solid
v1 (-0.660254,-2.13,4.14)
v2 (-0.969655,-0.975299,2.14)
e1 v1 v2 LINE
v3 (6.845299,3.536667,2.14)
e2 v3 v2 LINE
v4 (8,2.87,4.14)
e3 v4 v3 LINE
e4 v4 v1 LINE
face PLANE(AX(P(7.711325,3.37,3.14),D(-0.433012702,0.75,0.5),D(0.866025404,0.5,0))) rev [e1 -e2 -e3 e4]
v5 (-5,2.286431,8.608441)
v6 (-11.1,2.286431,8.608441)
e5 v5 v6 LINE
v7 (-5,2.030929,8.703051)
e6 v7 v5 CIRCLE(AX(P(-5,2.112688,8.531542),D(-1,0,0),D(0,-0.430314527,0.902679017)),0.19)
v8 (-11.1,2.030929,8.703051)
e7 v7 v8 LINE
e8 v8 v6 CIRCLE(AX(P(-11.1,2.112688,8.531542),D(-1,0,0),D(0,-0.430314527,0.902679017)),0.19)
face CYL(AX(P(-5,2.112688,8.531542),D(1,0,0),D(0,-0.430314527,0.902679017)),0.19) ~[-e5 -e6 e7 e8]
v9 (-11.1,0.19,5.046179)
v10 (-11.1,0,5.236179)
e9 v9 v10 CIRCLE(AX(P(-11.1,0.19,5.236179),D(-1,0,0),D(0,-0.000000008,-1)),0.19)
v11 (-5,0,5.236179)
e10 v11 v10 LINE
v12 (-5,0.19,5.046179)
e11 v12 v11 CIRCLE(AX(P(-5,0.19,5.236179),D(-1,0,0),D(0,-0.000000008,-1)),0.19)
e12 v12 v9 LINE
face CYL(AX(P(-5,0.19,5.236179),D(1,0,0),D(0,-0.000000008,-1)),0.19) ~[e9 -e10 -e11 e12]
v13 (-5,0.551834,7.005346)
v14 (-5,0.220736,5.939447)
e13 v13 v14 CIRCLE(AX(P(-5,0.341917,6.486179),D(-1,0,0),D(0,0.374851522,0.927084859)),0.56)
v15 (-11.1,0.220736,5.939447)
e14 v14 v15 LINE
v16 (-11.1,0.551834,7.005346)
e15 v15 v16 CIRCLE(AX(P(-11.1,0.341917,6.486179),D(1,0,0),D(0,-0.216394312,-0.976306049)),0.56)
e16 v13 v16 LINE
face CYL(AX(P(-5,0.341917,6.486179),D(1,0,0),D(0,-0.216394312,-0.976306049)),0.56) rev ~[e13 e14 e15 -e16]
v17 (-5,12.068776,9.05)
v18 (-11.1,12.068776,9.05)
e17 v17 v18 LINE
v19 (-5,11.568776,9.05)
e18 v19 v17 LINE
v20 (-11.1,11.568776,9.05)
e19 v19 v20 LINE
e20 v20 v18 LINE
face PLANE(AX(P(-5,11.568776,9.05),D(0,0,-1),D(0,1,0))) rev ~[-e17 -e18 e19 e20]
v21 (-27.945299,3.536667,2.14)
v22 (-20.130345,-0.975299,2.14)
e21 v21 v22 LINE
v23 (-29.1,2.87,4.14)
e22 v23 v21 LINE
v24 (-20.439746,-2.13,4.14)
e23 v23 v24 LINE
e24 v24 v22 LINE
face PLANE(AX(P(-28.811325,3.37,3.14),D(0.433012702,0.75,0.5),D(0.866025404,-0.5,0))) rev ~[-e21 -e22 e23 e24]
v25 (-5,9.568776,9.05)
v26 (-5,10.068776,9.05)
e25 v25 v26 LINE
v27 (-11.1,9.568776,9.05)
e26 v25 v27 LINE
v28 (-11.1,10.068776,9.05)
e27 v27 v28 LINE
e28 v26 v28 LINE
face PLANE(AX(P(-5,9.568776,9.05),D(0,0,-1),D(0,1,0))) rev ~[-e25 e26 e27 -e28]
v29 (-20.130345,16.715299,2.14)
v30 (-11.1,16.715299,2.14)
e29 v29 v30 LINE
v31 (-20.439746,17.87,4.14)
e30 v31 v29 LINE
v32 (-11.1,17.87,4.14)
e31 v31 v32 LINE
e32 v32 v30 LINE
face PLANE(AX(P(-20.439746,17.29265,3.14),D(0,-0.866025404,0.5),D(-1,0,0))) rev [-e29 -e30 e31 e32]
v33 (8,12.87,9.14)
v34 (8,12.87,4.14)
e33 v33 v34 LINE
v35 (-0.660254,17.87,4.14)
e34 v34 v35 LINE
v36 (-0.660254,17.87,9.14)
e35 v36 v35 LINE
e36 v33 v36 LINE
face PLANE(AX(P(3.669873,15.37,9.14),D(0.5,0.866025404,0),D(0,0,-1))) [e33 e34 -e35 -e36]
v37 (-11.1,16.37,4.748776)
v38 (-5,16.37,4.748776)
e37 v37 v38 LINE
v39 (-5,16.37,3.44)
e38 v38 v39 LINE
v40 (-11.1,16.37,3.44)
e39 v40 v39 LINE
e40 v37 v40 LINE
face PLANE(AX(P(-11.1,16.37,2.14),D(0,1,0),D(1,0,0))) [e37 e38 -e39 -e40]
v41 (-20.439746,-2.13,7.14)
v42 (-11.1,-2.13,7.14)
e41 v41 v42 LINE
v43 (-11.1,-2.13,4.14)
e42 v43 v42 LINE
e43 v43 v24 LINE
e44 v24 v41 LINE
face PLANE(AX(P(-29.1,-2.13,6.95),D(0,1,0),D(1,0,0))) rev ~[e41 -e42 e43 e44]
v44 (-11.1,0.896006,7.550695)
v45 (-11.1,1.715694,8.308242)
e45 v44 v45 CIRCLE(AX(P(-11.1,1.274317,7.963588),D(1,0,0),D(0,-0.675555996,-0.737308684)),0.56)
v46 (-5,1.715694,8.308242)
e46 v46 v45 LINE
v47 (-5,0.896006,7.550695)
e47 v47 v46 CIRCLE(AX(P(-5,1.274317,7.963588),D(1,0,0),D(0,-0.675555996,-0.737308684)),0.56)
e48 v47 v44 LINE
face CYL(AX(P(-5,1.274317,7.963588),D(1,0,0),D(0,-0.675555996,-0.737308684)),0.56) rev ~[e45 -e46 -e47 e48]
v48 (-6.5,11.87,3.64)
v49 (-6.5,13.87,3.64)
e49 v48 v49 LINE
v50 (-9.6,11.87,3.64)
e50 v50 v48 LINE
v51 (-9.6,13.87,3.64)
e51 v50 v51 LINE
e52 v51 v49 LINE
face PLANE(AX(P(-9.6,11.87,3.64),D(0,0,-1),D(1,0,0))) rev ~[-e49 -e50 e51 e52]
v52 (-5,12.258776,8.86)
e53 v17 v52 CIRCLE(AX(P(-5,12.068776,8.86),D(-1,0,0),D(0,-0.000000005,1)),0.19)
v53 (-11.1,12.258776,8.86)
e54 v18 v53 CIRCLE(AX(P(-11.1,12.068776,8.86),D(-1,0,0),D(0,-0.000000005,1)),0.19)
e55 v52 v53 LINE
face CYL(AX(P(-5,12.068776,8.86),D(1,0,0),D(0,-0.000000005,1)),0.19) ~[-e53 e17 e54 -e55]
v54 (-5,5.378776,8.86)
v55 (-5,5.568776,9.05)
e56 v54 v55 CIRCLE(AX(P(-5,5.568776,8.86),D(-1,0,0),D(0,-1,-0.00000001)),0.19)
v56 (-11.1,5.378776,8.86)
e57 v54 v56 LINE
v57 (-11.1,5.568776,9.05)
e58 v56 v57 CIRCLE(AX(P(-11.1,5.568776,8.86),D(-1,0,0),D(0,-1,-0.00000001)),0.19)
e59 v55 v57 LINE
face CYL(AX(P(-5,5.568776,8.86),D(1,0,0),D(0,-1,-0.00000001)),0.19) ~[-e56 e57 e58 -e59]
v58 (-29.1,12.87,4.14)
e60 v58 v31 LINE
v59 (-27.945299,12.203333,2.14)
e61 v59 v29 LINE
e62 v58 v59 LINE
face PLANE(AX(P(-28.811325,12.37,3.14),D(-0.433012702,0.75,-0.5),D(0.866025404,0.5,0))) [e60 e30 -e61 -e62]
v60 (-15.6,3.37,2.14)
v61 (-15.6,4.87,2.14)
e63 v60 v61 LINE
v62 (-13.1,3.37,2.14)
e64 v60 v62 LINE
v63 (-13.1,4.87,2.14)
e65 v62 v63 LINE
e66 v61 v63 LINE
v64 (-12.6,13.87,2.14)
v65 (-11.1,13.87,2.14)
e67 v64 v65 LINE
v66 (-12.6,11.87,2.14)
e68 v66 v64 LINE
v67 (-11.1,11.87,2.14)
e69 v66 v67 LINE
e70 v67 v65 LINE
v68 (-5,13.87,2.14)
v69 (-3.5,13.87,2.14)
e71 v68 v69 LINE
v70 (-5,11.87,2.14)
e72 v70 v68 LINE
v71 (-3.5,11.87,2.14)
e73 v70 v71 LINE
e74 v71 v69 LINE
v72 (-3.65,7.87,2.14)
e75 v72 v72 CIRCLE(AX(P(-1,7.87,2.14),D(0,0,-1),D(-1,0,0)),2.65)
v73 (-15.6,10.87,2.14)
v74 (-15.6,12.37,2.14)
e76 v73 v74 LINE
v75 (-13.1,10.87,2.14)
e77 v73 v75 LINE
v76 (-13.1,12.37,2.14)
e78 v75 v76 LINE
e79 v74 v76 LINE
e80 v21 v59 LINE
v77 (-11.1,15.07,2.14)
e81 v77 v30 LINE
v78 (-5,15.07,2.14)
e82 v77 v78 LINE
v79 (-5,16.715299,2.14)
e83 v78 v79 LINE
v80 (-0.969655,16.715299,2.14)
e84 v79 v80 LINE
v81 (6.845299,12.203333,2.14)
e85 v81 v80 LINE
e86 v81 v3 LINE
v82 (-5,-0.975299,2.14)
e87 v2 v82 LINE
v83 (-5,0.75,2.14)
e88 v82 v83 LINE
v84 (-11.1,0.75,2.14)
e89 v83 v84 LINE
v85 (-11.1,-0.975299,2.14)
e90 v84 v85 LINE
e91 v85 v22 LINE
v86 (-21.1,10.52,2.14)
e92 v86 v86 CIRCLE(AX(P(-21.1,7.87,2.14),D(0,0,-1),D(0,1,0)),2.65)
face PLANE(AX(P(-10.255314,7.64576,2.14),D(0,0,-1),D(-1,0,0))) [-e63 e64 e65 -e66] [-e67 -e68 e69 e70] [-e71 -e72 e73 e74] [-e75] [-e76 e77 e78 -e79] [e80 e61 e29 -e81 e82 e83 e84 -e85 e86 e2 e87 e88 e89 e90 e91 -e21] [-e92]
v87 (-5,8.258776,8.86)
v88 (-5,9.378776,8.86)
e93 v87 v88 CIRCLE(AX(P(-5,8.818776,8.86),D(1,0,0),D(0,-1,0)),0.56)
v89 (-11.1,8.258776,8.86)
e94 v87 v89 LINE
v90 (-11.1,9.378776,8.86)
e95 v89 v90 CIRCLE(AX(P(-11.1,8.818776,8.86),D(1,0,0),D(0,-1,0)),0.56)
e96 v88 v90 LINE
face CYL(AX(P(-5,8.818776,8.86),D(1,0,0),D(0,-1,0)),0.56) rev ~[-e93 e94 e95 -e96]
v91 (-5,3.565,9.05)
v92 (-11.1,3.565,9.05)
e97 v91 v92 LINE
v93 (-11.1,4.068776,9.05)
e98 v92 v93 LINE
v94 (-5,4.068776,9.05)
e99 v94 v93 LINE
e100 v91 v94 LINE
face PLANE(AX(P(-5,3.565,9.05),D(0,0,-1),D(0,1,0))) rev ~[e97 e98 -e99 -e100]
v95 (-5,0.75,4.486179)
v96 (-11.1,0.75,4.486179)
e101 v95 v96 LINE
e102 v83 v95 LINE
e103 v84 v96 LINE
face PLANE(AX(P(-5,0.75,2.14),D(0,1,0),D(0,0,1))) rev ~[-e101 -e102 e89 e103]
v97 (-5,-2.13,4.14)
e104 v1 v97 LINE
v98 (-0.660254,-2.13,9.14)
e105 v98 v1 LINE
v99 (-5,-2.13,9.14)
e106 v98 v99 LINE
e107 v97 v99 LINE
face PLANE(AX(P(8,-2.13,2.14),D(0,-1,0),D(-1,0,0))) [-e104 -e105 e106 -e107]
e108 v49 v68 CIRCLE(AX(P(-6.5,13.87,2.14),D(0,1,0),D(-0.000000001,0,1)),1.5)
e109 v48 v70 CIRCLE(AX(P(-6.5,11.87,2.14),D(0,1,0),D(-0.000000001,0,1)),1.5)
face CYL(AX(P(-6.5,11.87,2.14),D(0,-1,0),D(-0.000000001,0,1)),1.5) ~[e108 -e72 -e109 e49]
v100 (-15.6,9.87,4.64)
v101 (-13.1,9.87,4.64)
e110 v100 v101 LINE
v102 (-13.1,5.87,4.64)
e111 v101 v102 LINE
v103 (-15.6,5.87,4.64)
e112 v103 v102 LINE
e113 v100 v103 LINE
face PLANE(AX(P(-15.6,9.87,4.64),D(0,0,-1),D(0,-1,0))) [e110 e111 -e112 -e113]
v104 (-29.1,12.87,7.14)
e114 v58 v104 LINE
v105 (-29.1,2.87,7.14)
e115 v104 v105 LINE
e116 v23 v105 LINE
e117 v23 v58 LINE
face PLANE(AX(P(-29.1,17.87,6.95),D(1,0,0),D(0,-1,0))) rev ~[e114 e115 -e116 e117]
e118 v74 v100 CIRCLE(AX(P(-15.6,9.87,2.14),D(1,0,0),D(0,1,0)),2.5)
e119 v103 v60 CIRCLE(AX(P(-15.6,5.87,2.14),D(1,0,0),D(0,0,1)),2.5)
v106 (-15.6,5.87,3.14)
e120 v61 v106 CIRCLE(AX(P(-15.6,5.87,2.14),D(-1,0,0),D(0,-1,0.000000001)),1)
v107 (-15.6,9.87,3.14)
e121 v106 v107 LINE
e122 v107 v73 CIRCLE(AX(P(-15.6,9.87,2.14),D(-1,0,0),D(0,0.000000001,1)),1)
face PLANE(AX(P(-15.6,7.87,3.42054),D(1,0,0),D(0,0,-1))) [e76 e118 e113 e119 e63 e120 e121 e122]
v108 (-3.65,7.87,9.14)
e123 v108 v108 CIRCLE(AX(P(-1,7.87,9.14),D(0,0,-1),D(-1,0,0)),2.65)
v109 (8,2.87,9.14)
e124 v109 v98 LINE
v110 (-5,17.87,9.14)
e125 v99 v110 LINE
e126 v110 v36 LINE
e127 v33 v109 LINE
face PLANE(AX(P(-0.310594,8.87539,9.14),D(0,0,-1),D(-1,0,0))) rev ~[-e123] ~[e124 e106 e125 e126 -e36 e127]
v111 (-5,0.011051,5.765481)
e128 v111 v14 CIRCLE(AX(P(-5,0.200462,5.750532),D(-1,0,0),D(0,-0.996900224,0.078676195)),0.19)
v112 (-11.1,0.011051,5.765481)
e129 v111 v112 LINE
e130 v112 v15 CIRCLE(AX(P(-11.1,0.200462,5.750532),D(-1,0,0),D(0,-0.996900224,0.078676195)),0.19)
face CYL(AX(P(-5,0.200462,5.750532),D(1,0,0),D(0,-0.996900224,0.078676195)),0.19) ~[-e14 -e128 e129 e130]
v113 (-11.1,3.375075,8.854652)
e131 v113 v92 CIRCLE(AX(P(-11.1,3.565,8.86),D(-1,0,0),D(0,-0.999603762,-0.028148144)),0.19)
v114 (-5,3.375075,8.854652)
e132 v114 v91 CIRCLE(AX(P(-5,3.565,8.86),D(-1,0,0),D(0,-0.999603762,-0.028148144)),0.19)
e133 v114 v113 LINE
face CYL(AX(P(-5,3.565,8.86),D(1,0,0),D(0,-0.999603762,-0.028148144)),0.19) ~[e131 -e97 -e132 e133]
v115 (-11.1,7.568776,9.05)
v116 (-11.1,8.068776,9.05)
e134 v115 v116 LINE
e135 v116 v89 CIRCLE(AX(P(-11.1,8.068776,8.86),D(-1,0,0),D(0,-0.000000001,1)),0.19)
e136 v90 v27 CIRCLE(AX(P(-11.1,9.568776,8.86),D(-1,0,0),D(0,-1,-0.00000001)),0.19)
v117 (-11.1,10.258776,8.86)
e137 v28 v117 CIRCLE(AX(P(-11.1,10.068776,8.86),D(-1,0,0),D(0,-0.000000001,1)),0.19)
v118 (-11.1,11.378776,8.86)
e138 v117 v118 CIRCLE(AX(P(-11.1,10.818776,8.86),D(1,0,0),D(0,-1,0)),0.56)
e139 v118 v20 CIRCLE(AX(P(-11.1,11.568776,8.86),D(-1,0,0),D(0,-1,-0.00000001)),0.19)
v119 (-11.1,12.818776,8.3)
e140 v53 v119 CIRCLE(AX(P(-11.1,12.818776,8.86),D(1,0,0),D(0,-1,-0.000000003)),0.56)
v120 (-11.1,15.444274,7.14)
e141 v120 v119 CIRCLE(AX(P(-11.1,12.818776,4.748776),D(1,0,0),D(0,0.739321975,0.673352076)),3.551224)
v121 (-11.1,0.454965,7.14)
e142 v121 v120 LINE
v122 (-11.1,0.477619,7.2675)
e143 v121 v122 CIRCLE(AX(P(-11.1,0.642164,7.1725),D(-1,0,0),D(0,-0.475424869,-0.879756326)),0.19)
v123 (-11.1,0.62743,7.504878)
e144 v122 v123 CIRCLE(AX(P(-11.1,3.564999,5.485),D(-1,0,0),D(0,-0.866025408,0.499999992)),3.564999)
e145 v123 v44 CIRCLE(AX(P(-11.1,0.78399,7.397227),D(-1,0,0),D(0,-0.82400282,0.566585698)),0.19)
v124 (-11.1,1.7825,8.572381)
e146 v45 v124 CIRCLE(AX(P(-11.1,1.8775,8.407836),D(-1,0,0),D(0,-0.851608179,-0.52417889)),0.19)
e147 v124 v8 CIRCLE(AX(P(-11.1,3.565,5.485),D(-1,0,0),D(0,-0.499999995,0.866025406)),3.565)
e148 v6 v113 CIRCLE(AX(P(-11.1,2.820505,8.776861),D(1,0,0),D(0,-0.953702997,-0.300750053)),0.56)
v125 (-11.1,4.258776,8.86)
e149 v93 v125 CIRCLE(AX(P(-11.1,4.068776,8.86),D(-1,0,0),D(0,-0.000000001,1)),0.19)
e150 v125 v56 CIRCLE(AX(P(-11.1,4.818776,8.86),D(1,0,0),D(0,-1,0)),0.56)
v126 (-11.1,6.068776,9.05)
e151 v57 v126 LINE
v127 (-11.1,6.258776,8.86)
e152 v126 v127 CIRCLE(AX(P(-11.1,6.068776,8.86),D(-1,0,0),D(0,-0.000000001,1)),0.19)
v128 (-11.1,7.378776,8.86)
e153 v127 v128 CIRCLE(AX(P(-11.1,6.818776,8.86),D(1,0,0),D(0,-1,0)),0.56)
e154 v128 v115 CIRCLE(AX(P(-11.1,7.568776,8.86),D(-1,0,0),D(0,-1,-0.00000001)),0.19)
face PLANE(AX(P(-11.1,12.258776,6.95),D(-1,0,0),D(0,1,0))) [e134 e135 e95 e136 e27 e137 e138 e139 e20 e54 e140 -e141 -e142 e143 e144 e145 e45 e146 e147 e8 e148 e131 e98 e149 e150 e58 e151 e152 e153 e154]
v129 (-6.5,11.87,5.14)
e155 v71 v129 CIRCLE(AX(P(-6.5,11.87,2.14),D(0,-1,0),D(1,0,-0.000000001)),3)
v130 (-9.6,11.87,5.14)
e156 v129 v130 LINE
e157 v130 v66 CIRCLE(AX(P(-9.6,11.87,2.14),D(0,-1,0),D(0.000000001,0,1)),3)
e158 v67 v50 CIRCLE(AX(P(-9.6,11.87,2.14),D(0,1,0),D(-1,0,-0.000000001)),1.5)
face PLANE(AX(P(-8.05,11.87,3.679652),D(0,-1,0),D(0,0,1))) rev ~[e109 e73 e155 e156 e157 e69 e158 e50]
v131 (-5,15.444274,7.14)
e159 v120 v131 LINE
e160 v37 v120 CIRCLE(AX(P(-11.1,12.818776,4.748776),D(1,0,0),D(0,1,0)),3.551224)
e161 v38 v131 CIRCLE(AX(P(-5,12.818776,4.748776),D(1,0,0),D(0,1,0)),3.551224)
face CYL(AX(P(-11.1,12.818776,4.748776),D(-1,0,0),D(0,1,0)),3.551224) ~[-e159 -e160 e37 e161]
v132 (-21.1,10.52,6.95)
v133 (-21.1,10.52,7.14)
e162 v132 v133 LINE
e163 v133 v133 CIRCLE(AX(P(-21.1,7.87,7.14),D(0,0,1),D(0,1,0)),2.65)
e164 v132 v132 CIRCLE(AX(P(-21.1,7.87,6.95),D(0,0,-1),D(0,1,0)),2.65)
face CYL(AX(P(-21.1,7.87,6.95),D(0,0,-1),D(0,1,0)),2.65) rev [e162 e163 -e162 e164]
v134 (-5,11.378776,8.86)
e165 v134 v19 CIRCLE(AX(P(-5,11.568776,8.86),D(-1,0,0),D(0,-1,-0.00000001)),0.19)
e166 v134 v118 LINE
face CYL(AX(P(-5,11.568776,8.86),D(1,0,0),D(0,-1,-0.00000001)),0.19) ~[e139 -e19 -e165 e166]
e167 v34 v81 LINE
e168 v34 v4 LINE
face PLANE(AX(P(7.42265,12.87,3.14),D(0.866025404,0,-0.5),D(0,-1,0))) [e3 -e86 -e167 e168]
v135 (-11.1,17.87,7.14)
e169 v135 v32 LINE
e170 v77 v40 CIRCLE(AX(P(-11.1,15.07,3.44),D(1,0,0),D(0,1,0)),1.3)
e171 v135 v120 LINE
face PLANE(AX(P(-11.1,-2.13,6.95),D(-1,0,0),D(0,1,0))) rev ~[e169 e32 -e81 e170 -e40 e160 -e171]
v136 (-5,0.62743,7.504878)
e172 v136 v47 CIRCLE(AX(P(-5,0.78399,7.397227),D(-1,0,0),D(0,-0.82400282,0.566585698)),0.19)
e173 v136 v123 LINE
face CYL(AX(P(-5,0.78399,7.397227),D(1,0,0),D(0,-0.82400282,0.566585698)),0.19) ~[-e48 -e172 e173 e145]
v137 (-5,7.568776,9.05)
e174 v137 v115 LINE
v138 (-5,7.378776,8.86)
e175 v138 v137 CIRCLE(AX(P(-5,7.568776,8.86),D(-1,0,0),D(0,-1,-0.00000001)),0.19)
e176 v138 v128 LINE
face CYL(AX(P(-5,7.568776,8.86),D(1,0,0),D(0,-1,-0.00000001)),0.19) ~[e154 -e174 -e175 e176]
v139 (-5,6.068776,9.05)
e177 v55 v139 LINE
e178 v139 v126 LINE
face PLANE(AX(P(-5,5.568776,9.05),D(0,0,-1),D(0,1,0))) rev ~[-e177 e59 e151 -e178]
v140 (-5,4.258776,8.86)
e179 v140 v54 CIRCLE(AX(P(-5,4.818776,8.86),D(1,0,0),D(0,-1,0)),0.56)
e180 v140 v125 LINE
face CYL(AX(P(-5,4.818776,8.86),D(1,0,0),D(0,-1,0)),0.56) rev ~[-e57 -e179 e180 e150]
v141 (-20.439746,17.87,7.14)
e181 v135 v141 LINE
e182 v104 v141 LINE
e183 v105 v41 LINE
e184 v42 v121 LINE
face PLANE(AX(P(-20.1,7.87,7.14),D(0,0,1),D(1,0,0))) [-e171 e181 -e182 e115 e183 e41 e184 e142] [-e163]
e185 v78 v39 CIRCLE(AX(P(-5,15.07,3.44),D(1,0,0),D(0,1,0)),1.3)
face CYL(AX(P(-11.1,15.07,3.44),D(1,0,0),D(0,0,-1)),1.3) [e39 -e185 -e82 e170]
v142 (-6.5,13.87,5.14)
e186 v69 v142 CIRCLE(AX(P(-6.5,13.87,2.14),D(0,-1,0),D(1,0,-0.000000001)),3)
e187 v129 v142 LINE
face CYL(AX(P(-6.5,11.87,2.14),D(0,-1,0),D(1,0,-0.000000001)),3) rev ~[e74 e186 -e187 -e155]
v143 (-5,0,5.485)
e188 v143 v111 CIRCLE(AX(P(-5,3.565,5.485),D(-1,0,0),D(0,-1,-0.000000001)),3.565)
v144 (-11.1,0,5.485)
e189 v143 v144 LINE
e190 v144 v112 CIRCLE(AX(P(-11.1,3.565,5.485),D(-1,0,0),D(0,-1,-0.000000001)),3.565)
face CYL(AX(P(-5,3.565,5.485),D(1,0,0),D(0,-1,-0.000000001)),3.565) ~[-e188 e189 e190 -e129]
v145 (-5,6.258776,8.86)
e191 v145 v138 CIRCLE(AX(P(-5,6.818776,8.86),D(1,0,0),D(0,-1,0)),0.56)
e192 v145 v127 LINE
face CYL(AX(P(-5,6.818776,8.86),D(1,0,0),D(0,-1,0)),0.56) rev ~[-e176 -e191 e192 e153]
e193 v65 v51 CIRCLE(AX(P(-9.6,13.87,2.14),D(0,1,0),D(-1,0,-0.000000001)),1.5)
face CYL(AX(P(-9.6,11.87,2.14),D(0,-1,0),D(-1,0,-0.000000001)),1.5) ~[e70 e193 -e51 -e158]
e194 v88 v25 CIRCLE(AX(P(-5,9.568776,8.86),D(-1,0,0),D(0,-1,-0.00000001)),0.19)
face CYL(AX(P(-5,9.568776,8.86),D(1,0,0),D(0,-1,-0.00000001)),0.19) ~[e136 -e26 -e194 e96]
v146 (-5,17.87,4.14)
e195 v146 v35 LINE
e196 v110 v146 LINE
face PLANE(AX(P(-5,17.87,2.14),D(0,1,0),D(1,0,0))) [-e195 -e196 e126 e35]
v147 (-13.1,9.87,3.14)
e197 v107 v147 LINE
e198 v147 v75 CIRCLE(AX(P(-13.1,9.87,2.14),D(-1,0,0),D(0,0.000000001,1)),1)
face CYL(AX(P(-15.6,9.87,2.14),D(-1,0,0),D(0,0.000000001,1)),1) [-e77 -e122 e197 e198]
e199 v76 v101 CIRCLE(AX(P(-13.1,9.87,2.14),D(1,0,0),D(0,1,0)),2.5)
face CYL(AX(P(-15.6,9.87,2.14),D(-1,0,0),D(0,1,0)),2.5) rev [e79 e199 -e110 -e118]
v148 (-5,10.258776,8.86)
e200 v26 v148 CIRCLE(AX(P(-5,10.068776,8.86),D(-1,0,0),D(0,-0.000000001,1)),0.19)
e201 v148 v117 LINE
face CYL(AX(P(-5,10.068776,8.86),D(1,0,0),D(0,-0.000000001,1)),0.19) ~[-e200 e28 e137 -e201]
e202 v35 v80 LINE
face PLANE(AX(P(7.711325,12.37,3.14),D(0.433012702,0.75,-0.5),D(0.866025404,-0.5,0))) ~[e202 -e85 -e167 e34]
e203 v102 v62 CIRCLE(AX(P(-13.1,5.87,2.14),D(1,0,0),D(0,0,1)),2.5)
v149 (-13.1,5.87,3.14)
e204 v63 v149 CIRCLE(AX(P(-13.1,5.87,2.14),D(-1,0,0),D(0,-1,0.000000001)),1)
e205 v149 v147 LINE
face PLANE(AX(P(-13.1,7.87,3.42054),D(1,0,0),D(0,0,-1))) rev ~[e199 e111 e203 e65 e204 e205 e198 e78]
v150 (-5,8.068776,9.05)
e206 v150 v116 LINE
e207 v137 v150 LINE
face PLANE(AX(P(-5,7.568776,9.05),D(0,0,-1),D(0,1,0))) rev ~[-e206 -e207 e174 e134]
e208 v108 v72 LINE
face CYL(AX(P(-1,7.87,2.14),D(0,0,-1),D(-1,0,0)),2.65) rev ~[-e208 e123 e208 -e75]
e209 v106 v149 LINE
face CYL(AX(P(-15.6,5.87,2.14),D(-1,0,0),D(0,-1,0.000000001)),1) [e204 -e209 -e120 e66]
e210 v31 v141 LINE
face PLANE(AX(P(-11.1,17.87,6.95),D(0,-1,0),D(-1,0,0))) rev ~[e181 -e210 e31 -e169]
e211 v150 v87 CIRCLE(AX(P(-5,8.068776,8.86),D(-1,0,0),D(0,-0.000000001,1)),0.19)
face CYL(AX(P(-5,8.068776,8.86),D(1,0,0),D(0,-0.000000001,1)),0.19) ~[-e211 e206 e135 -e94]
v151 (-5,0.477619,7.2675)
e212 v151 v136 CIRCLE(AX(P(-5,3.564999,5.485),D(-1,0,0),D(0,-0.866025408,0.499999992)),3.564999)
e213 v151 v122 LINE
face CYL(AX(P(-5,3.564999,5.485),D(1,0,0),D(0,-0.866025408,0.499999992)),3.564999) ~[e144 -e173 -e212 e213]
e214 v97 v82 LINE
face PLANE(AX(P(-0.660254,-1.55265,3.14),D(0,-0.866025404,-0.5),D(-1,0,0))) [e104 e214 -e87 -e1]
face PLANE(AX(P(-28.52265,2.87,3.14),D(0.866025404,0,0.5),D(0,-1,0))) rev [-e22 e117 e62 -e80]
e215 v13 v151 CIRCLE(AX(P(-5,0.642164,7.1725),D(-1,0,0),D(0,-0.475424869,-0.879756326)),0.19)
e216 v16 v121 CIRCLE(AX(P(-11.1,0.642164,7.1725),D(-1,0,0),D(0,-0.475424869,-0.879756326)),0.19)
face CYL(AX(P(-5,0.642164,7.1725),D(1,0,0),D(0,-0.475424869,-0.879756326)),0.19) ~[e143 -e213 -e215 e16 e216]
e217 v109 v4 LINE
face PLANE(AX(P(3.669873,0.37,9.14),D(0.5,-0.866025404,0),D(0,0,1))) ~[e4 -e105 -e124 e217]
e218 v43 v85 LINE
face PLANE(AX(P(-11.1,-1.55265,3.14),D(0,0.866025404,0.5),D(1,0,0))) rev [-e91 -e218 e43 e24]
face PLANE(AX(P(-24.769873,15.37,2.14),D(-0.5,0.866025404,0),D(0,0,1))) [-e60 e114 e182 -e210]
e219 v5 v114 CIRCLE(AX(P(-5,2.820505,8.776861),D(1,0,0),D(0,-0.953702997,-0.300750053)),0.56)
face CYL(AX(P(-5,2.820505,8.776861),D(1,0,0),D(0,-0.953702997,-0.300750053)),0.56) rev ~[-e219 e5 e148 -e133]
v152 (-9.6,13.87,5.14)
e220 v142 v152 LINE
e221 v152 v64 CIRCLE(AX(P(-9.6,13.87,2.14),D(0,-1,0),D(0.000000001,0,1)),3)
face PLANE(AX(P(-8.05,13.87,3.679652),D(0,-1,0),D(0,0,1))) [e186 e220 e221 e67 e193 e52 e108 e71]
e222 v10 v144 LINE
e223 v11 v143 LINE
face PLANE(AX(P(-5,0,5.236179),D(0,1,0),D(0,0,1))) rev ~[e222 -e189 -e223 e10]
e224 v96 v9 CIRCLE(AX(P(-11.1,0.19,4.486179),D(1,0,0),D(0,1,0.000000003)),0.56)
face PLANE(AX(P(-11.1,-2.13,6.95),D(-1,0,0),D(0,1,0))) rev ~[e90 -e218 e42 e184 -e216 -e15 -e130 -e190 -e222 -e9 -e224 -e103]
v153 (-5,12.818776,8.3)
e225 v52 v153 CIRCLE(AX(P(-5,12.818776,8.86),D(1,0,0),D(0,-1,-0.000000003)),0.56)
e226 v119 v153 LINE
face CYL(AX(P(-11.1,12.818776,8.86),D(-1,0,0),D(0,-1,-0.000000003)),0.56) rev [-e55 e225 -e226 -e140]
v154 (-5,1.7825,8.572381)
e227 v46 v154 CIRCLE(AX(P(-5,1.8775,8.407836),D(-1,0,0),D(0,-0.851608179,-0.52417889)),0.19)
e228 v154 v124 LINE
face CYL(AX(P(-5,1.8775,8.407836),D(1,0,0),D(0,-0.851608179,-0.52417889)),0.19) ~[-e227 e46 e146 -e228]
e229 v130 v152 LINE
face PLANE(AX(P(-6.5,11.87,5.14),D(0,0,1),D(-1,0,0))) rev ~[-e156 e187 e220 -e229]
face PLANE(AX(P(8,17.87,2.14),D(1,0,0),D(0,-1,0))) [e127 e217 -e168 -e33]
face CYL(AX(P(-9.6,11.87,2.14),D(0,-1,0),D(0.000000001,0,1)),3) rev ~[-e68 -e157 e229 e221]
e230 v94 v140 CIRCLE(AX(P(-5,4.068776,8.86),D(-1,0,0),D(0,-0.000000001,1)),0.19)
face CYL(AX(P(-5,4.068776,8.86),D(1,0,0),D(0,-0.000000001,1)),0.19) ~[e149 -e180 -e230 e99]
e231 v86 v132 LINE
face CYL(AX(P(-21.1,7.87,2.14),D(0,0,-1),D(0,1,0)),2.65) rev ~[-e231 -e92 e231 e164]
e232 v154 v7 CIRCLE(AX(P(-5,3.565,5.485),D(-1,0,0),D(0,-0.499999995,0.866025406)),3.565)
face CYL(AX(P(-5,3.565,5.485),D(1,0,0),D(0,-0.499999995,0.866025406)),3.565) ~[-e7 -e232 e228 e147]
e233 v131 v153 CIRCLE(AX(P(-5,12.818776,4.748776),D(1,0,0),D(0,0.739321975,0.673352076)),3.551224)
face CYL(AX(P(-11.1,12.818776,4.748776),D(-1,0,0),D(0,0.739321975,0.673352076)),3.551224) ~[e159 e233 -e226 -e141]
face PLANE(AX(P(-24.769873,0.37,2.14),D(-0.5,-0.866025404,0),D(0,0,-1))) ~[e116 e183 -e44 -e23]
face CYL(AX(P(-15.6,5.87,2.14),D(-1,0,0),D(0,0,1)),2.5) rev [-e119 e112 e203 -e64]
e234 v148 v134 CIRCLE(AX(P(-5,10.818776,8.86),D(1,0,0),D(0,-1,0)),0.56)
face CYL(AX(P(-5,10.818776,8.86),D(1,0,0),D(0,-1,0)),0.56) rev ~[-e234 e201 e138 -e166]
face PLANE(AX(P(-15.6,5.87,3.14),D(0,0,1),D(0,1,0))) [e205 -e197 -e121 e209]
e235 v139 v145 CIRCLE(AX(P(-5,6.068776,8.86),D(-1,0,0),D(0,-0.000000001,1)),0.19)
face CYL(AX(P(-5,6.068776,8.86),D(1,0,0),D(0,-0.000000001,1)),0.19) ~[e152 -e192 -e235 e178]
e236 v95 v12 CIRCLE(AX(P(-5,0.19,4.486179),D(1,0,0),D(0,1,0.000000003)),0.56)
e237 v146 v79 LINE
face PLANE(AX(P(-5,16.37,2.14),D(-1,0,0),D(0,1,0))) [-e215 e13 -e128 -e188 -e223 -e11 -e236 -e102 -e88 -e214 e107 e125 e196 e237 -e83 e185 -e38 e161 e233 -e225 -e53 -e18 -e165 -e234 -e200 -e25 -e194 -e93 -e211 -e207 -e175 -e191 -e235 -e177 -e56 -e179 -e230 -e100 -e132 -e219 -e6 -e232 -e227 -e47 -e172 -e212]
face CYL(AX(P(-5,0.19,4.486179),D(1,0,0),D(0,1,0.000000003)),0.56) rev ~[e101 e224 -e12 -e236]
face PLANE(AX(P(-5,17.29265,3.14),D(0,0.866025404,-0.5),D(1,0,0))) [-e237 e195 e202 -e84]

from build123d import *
from OCP.BRepFilletAPI import BRepFilletAPI_MakeChamfer

# Parameters (mm, degrees)
AUFSATZ_LINEAR_AUSTRAGEN1_DEPTH    = 6.1
SKIZZE1_W                          = 6
SKIZZE1_H                          = 15
AUFSATZ_LINEAR_AUSTRAGEN1_2_DEPTH  = 6.1
SKIZZE2_W                          = 6
SKIZZE2_H                          = 15
SCHNITT_LINEAR_AUSTRAGEN1_DEPTH    = 6.1
SKIZZE3_R                          = 2.65
AUFSATZ_LINEAR_AUSTRAGEN2_DEPTH    = 2.19
SCHNITT_LINEAR_AUSTRAGEN7_DEPTH    = 6.1
AUFSATZ_LINEAR_START               = 4.81
SKIZZE4_R                          = 2.65
AUFSATZ_LINEAR_AUSTRAGEN3_DEPTH    = 4.81
SKIZZE5_R                          = 2.65
AUFSATZ_LINEAR_AUSTRAGEN4_DEPTH    = 0.19
FASE1_SIZE                         = 5
FASE1_SIZE2                        = 8.660254038
FASE2_SIZE                         = 2
FASE2_SIZE2                        = 1.154700538
SCHNITT_LINEAR_START               = -14
SCHNITT_LINEAR_AUSTRAGEN8_DEPTH    = 2
SCHNITT_LINEAR_START_2             = -13.5
SCHNITT_LINEAR_AUSTRAGEN5_DEPTH    = 2.5
VERRUNDUNG1_R                      = 1.3
SCHNITT_LINEAR_AUSTRAGEN9_DEPTH    = 6.1
K_RPER_VERSCHIEBEN_KOPIEREN1_ANGLE = 90


with BuildPart() as part:
    # Skizze1 → Aufsatz-Linear austragen1 (new body)
    with BuildSketch(Plane.XY):
        with BuildLine():
            Line((-7.050000002, 7.568775844), (-7.050000002, 8.068775844))
            ThreePointArc((-7.050000002, 8.068775844), (-7.105649713, 8.203126132), (-7.240000002, 8.258775844))
            ThreePointArc((-7.240000002, 8.258775844), (-7.800000002, 8.818775844), (-7.240000002, 9.378775844))
            ThreePointArc((-7.240000002, 9.378775844), (-7.105649713, 9.434425555), (-7.050000002, 9.568775844))
            Line((-7.050000002, 9.568775844), (-7.050000002, 10.068775844))
            ThreePointArc((-7.050000002, 10.068775844), (-7.105649713, 10.203126132), (-7.240000002, 10.258775844))
            ThreePointArc((-7.240000002, 10.258775844), (-7.800000002, 10.818775844), (-7.240000002, 11.378775844))
            ThreePointArc((-7.240000002, 11.378775844), (-7.105649713, 11.434425555), (-7.050000002, 11.568775844))
            Line((-7.050000002, 11.568775844), (-7.050000002, 12.068775844))
            ThreePointArc((-7.050000002, 12.068775844), (-7.105649713, 12.203126132), (-7.240000002, 12.258775843))
            Line((-7.240000002, 12.258775843), (-9.150000002, 12.258775843))
            Line((-9.150000002, 12.258775843), (-9.150000002, 4))
            Line((-9.150000002, 4), (-10.615000002, 4))
            Line((-10.615000002, 4), (-13.960000002, 4))
            Line((-13.960000002, 4), (-13.960000002, 0.75))
            Line((-13.960000002, 0.75), (-11.613821225, 0.75))
            ThreePointArc((-11.613821225, 0.75), (-11.217841428, 0.585979797), (-11.053821225, 0.19))
            ThreePointArc((-11.053821225, 0.19), (-10.998171513, 0.055649712), (-10.863821225, 0))
            Line((-10.863821225, 0), (-10.615000002, 0))
            ThreePointArc((-10.615000002, 0), (-10.474650873, 0.002763747), (-10.334519354, 0.011050703))
            ThreePointArc((-10.334519354, 0.011050703), (-10.203241743, 0.079144265), (-10.160552613, 0.22073587))
            ThreePointArc((-10.160552613, 0.22073587), (-9.779942741, 0.876709768), (-9.094653704, 0.551833537))
            ThreePointArc((-9.094653704, 0.551833537), (-8.979253962, 0.459348706), (-8.832500002, 0.477619436))
            ThreePointArc((-8.832500002, 0.477619436), (-8.712335964, 0.550187475), (-8.595121987, 0.627429949))
            ThreePointArc((-8.595121987, 0.627429949), (-8.515479022, 0.752039509), (-8.549304953, 0.896006001))
            ThreePointArc((-8.549304953, 0.896006001), (-8.547674084, 1.654400997), (-7.791758254, 1.715694446))
            ThreePointArc((-7.791758254, 1.715694446), (-7.64557673, 1.693300104), (-7.527619437, 1.7825))
            ThreePointArc((-7.527619437, 1.7825), (-7.459838348, 1.905427785), (-7.396949303, 2.030928718))
            ThreePointArc((-7.396949303, 2.030928718), (-7.390281252, 2.178665245), (-7.491558614, 2.286430919))
            ThreePointArc((-7.491558614, 2.286430919), (-7.869343738, 2.944035686), (-7.24534815, 3.375075285))
            ThreePointArc((-7.24534815, 3.375075285), (-7.107554066, 3.428771978), (-7.050000002, 3.565))
            Line((-7.050000002, 3.565), (-7.050000002, 4.068775844))
            ThreePointArc((-7.050000002, 4.068775844), (-7.105649713, 4.203126132), (-7.240000002, 4.258775844))
            ThreePointArc((-7.240000002, 4.258775844), (-7.800000002, 4.818775844), (-7.240000002, 5.378775844))
            ThreePointArc((-7.240000002, 5.378775844), (-7.105649713, 5.434425555), (-7.050000002, 5.568775844))
            Line((-7.050000002, 5.568775844), (-7.050000002, 6.068775844))
            ThreePointArc((-7.050000002, 6.068775844), (-7.105649713, 6.203126132), (-7.240000002, 6.258775844))
            ThreePointArc((-7.240000002, 6.258775844), (-7.800000002, 6.818775844), (-7.240000002, 7.378775844))
            ThreePointArc((-7.240000002, 7.378775844), (-7.105649713, 7.434425555), (-7.050000002, 7.568775844))
        make_face()
    extrude(amount=AUFSATZ_LINEAR_AUSTRAGEN1_DEPTH)

    # Skizze3 → Aufsatz-Linear austragen2 (add)
    with BuildSketch(Plane.ZY.offset(9.150000002)):
        Polygon((6.1, 12.258775843), (6.1, 16.37), (0, 16.37), (0, 17.87), (-13, 17.87), (-13, -2.13), (0, -2.13), (0, 12.258775843), align=None)
        with Locations((-4, 7.87)):
            Circle(SKIZZE3_R, mode=Mode.SUBTRACT)
    extrude(amount=-AUFSATZ_LINEAR_AUSTRAGEN2_DEPTH)

    # Skizze15 → Schnitt-Linear austragen7 (cut)
    with BuildSketch(Plane.XY.offset(6.1)):
        with BuildLine():
            Line((-7.800000002, 12.818775843), (-7.800000002, 15.07))
            ThreePointArc((-7.800000002, 15.07), (-8.180761186, 15.989238816), (-9.100000002, 16.37))
            Line((-9.100000002, 16.37), (-6.960000002, 16.37))
            Line((-6.960000002, 16.37), (-6.960000002, 12.258775843))
            Line((-6.960000002, 12.258775843), (-7.240000002, 12.258775843))
            ThreePointArc((-7.240000002, 12.258775843), (-7.635979799, 12.422796046), (-7.800000002, 12.818775843))
        make_face()
    extrude(amount=-SCHNITT_LINEAR_AUSTRAGEN7_DEPTH, mode=Mode.SUBTRACT)

    # Skizze4 → Aufsatz-Linear austragen3 (add)
    with BuildSketch(Plane.ZY.offset(9.150000002).offset(AUFSATZ_LINEAR_START)):
        Polygon((6.1, 17.87), (6.1, 16.37), (0, 16.37), (0, 17.87), (-13, 17.87), (-13, -2.13), (0, -2.13), (0, 4), (6.1, 4), (6.1, -2.13), (24.1, -2.13), (24.1, 17.87), align=None)
        with Locations(Location((16.1, 7.87, 0), (0, 0, 90))):
            Circle(SKIZZE4_R, mode=Mode.SUBTRACT)
        with Locations((-4, 7.87)):
            Circle(SKIZZE4_R, mode=Mode.SUBTRACT)
    extrude(amount=-AUFSATZ_LINEAR_AUSTRAGEN3_DEPTH)

    # Skizze5 → Aufsatz-Linear austragen4 (add)
    with BuildSketch(Plane(origin=(-9.150000002, 0, 0), x_dir=(0, 0, -1), z_dir=(1, 0, 0))):
        Polygon((-6.1, 17.87), (-24.1, 17.87), (-24.1, -2.13), (-6.1, -2.13), (-6.1, 0.655715781), (-6.1, 16.37), align=None)
        with Locations(Location((-16.1, 7.87, 0), (0, 0, 90))):
            Circle(SKIZZE5_R, mode=Mode.SUBTRACT)
    extrude(amount=AUFSATZ_LINEAR_AUSTRAGEN4_DEPTH)

    # Fase1: one chamfer whose edges measure the first distance from different faces: ONE call of the kernel's chamfer builder (chamfer() names one face for all edges)
    fase1_edges_1 = [part.edges().sort_by_distance(p)[0] for p in [
        (-10.460000002, -2.13, -13),
        (-10.460000002, 17.87, -13),
    ]]
    fase1_side_1 = [part.faces().sort_by_distance(p)[0] for p in [
        (-10.460000002, 7.87, -13),
    ]]
    fase1_edges_2 = [part.edges().sort_by_distance(p)[0] for p in [
        (-11.460000002, 17.87, 24.1),
        (-11.460000002, -2.13, 24.1),
    ]]
    fase1_side_2 = [part.faces().sort_by_distance(p)[0] for p in [
        (-11.460000002, 7.87, 24.1),
    ]]
    fase1 = BRepFilletAPI_MakeChamfer(part.part.solid().wrapped)
    for e in fase1_edges_1:
        fase1.Add(FASE1_SIZE, FASE1_SIZE2, e.wrapped, fase1_side_1[0].wrapped)  # the first distance lies on this face
    for e in fase1_edges_2:
        fase1.Add(FASE1_SIZE, FASE1_SIZE2, e.wrapped, fase1_side_2[0].wrapped)  # the first distance lies on this face
    add(Compound.cast(fase1.Shape()), mode=Mode.REPLACE)

    # Fase2: one chamfer whose edges measure the first distance from different faces: ONE call of the kernel's chamfer builder (chamfer() names one face for all edges)
    fase2_edges_1 = [part.edges().sort_by_distance(p)[0] for p in [
        (-13.960000002, 17.87, 10.769872981),
    ]]
    fase2_side_1 = [part.faces().sort_by_distance(p)[0] for p in [
        (-11.460000002, 17.87, 10.769872981),
    ]]
    fase2_edges_2 = [part.edges().sort_by_distance(p)[0] for p in [
        (-13.960000002, 17.87, -2.169872981),
    ]]
    fase2_side_2 = [part.faces().sort_by_distance(p)[0] for p in [
        (-10.460000002, 17.87, -2.169872981),
    ]]
    fase2_edges_3 = [part.edges().sort_by_distance(p)[0] for p in [
        (-13.960000002, -2.13, 10.769872981),
    ]]
    fase2_side_3 = [part.faces().sort_by_distance(p)[0] for p in [
        (-11.460000002, -2.13, 10.769872981),
    ]]
    fase2_edges_4 = [part.edges().sort_by_distance(p)[0] for p in [
        (-13.960000002, 7.87, 24.1),
    ]]
    fase2_side_4 = [part.faces().sort_by_distance(p)[0] for p in [
        (-11.460000002, 7.87, 24.1),
    ]]
    fase2_edges_5 = [part.edges().sort_by_distance(p)[0] for p in [
        (-13.960000002, 7.87, -13),
    ]]
    fase2_side_5 = [part.faces().sort_by_distance(p)[0] for p in [
        (-10.460000002, 7.87, -13),
    ]]
    fase2_edges_6 = [part.edges().sort_by_distance(p)[0] for p in [
        (-13.960000002, -2.13, -2.169872981),
    ]]
    fase2_side_6 = [part.faces().sort_by_distance(p)[0] for p in [
        (-10.460000002, -2.13, -2.169872981),
    ]]
    fase2_edges_7 = [part.edges().sort_by_distance(p)[0] for p in [
        (-13.960000002, 0.37, -8.669872981),
    ]]
    fase2_side_7 = [part.faces().sort_by_distance(p)[0] for p in [
        (-10.460000002, 0.37, -8.669872981),
    ]]
    fase2_edges_8 = [part.edges().sort_by_distance(p)[0] for p in [
        (-13.960000002, 0.37, 19.769872981),
    ]]
    fase2_side_8 = [part.faces().sort_by_distance(p)[0] for p in [
        (-11.460000002, 0.37, 19.769872981),
    ]]
    fase2_edges_9 = [part.edges().sort_by_distance(p)[0] for p in [
        (-13.960000002, 15.37, -8.669872981),
    ]]
    fase2_side_9 = [part.faces().sort_by_distance(p)[0] for p in [
        (-10.460000002, 15.37, -8.669872981),
    ]]
    fase2_edges_10 = [part.edges().sort_by_distance(p)[0] for p in [
        (-13.960000002, 15.37, 19.769872981),
    ]]
    fase2_side_10 = [part.faces().sort_by_distance(p)[0] for p in [
        (-11.460000002, 15.37, 19.769872981),
    ]]
    fase2 = BRepFilletAPI_MakeChamfer(part.part.solid().wrapped)
    for e in fase2_edges_1:
        fase2.Add(FASE2_SIZE, FASE2_SIZE2, e.wrapped, fase2_side_1[0].wrapped)  # the first distance lies on this face
    for e in fase2_edges_2:
        fase2.Add(FASE2_SIZE, FASE2_SIZE2, e.wrapped, fase2_side_2[0].wrapped)  # the first distance lies on this face
    for e in fase2_edges_3:
        fase2.Add(FASE2_SIZE, FASE2_SIZE2, e.wrapped, fase2_side_3[0].wrapped)  # the first distance lies on this face
    for e in fase2_edges_4:
        fase2.Add(FASE2_SIZE, FASE2_SIZE2, e.wrapped, fase2_side_4[0].wrapped)  # the first distance lies on this face
    for e in fase2_edges_5:
        fase2.Add(FASE2_SIZE, FASE2_SIZE2, e.wrapped, fase2_side_5[0].wrapped)  # the first distance lies on this face
    for e in fase2_edges_6:
        fase2.Add(FASE2_SIZE, FASE2_SIZE2, e.wrapped, fase2_side_6[0].wrapped)  # the first distance lies on this face
    for e in fase2_edges_7:
        fase2.Add(FASE2_SIZE, FASE2_SIZE2, e.wrapped, fase2_side_7[0].wrapped)  # the first distance lies on this face
    for e in fase2_edges_8:
        fase2.Add(FASE2_SIZE, FASE2_SIZE2, e.wrapped, fase2_side_8[0].wrapped)  # the first distance lies on this face
    for e in fase2_edges_9:
        fase2.Add(FASE2_SIZE, FASE2_SIZE2, e.wrapped, fase2_side_9[0].wrapped)  # the first distance lies on this face
    for e in fase2_edges_10:
        fase2.Add(FASE2_SIZE, FASE2_SIZE2, e.wrapped, fase2_side_10[0].wrapped)  # the first distance lies on this face
    add(Compound.cast(fase2.Shape()), mode=Mode.REPLACE)

    # Skizze11 → Schnitt-Linear austragen8 (cut)
    with BuildSketch(Plane.XZ.offset(2.13).offset(SCHNITT_LINEAR_START)):
        with BuildLine():
            Line((-13.960000002, 7.6), (-13.960000002, 6.1))
            ThreePointArc((-13.960000002, 6.1), (-12.89933983, 5.660660172), (-12.460000002, 4.6))
            Line((-12.460000002, 4.6), (-12.460000002, 1.5))
            ThreePointArc((-12.460000002, 1.5), (-12.89933983, 0.439339828), (-13.960000002, 0))
            Line((-13.960000002, 0), (-13.960000002, -1.5))
            ThreePointArc((-13.960000002, -1.5), (-11.838679658, -0.621320344), (-10.960000002, 1.5))
            Line((-10.960000002, 1.5), (-10.960000002, 4.6))
            ThreePointArc((-10.960000002, 4.6), (-11.838679658, 6.721320344), (-13.960000002, 7.6))
        make_face()
    extrude(amount=-SCHNITT_LINEAR_AUSTRAGEN8_DEPTH, mode=Mode.SUBTRACT)

    # Skizze13 → Schnitt-Linear austragen5 (cut)
    with BuildSketch(Plane.XY.offset(24.1).offset(SCHNITT_LINEAR_START_2)):
        with BuildLine():
            Line((-12.960000002, 5.87), (-12.960000002, 9.87))
            ThreePointArc((-12.960000002, 9.87), (-13.252893221, 10.577106781), (-13.960000002, 10.87))
            Line((-13.960000002, 10.87), (-13.960000002, 12.37))
            ThreePointArc((-13.960000002, 12.37), (-12.192233049, 11.637766953), (-11.460000002, 9.87))
            Line((-11.460000002, 9.87), (-11.460000002, 5.87))
            ThreePointArc((-11.460000002, 5.87), (-12.192233049, 4.102233047), (-13.960000002, 3.37))
            Line((-13.960000002, 3.37), (-13.960000002, 4.87))
            ThreePointArc((-13.960000002, 4.87), (-13.252893221, 5.162893219), (-12.960000002, 5.87))
        make_face()
    extrude(amount=-SCHNITT_LINEAR_AUSTRAGEN5_DEPTH, mode=Mode.SUBTRACT)

    # Verrundung1
    verrundung1_edges = [part.edges().sort_by_distance(p)[0] for p in [
        (-13.960000002, 16.37, 3.05),
    ]]
    fillet(verrundung1_edges, radius=VERRUNDUNG1_R)

    # Skizze16 → Schnitt-Linear austragen9 (cut)
    with BuildSketch(Plane.XY.offset(6.1)):
        with BuildLine():
            Line((-7.800000002, 12.818775843), (-7.800000002, 15.07))
            ThreePointArc((-7.800000002, 15.07), (-8.132529072, 15.938331734), (-8.960000002, 16.362439554))
            Line((-8.960000002, 16.362439554), (-8.960000002, 15.4442739))
            ThreePointArc((-8.960000002, 15.4442739), (-8.102919524, 14.253944827), (-7.800000002, 12.818775843))
        make_face()
        with BuildLine():
            Line((-8.960000002, 15.4442739), (-8.960000002, 16.362439554))
            ThreePointArc((-8.960000002, 16.362439554), (-9.029898004, 16.368108512), (-9.100000002, 16.37))
            Line((-9.100000002, 16.37), (-11.351224158, 16.37))
            ThreePointArc((-11.351224158, 16.37), (-10.069143644, 16.130491798), (-8.960000002, 15.4442739))
        make_face()
    extrude(amount=-SCHNITT_LINEAR_AUSTRAGEN9_DEPTH, mode=Mode.SUBTRACT)


with BuildPart() as body_2:
    # Skizze1 → Aufsatz-Linear austragen1 2 (new body)
    with BuildSketch(Plane.XY):
        with Locations((-3, 7.5)):
            Rectangle(SKIZZE1_W, SKIZZE1_H)
    extrude(amount=AUFSATZ_LINEAR_AUSTRAGEN1_2_DEPTH)

    # Skizze2 → Schnitt-Linear austragen1 (cut)
    with BuildSketch(Plane.XY.offset(6.1)):
        with Locations((-3, 7.5)):
            Rectangle(SKIZZE2_W, SKIZZE2_H)
    extrude(amount=-SCHNITT_LINEAR_AUSTRAGEN1_DEPTH, mode=Mode.SUBTRACT)


with BuildPart() as part_1:
    # Körper-Verschieben/Kopieren1: moved
    add(part.part.rotate(Axis((-10.55, 0, 5.55), (0, -1, 0)), K_RPER_VERSCHIEBEN_KOPIEREN1_ANGLE))


solid = part_1.part
